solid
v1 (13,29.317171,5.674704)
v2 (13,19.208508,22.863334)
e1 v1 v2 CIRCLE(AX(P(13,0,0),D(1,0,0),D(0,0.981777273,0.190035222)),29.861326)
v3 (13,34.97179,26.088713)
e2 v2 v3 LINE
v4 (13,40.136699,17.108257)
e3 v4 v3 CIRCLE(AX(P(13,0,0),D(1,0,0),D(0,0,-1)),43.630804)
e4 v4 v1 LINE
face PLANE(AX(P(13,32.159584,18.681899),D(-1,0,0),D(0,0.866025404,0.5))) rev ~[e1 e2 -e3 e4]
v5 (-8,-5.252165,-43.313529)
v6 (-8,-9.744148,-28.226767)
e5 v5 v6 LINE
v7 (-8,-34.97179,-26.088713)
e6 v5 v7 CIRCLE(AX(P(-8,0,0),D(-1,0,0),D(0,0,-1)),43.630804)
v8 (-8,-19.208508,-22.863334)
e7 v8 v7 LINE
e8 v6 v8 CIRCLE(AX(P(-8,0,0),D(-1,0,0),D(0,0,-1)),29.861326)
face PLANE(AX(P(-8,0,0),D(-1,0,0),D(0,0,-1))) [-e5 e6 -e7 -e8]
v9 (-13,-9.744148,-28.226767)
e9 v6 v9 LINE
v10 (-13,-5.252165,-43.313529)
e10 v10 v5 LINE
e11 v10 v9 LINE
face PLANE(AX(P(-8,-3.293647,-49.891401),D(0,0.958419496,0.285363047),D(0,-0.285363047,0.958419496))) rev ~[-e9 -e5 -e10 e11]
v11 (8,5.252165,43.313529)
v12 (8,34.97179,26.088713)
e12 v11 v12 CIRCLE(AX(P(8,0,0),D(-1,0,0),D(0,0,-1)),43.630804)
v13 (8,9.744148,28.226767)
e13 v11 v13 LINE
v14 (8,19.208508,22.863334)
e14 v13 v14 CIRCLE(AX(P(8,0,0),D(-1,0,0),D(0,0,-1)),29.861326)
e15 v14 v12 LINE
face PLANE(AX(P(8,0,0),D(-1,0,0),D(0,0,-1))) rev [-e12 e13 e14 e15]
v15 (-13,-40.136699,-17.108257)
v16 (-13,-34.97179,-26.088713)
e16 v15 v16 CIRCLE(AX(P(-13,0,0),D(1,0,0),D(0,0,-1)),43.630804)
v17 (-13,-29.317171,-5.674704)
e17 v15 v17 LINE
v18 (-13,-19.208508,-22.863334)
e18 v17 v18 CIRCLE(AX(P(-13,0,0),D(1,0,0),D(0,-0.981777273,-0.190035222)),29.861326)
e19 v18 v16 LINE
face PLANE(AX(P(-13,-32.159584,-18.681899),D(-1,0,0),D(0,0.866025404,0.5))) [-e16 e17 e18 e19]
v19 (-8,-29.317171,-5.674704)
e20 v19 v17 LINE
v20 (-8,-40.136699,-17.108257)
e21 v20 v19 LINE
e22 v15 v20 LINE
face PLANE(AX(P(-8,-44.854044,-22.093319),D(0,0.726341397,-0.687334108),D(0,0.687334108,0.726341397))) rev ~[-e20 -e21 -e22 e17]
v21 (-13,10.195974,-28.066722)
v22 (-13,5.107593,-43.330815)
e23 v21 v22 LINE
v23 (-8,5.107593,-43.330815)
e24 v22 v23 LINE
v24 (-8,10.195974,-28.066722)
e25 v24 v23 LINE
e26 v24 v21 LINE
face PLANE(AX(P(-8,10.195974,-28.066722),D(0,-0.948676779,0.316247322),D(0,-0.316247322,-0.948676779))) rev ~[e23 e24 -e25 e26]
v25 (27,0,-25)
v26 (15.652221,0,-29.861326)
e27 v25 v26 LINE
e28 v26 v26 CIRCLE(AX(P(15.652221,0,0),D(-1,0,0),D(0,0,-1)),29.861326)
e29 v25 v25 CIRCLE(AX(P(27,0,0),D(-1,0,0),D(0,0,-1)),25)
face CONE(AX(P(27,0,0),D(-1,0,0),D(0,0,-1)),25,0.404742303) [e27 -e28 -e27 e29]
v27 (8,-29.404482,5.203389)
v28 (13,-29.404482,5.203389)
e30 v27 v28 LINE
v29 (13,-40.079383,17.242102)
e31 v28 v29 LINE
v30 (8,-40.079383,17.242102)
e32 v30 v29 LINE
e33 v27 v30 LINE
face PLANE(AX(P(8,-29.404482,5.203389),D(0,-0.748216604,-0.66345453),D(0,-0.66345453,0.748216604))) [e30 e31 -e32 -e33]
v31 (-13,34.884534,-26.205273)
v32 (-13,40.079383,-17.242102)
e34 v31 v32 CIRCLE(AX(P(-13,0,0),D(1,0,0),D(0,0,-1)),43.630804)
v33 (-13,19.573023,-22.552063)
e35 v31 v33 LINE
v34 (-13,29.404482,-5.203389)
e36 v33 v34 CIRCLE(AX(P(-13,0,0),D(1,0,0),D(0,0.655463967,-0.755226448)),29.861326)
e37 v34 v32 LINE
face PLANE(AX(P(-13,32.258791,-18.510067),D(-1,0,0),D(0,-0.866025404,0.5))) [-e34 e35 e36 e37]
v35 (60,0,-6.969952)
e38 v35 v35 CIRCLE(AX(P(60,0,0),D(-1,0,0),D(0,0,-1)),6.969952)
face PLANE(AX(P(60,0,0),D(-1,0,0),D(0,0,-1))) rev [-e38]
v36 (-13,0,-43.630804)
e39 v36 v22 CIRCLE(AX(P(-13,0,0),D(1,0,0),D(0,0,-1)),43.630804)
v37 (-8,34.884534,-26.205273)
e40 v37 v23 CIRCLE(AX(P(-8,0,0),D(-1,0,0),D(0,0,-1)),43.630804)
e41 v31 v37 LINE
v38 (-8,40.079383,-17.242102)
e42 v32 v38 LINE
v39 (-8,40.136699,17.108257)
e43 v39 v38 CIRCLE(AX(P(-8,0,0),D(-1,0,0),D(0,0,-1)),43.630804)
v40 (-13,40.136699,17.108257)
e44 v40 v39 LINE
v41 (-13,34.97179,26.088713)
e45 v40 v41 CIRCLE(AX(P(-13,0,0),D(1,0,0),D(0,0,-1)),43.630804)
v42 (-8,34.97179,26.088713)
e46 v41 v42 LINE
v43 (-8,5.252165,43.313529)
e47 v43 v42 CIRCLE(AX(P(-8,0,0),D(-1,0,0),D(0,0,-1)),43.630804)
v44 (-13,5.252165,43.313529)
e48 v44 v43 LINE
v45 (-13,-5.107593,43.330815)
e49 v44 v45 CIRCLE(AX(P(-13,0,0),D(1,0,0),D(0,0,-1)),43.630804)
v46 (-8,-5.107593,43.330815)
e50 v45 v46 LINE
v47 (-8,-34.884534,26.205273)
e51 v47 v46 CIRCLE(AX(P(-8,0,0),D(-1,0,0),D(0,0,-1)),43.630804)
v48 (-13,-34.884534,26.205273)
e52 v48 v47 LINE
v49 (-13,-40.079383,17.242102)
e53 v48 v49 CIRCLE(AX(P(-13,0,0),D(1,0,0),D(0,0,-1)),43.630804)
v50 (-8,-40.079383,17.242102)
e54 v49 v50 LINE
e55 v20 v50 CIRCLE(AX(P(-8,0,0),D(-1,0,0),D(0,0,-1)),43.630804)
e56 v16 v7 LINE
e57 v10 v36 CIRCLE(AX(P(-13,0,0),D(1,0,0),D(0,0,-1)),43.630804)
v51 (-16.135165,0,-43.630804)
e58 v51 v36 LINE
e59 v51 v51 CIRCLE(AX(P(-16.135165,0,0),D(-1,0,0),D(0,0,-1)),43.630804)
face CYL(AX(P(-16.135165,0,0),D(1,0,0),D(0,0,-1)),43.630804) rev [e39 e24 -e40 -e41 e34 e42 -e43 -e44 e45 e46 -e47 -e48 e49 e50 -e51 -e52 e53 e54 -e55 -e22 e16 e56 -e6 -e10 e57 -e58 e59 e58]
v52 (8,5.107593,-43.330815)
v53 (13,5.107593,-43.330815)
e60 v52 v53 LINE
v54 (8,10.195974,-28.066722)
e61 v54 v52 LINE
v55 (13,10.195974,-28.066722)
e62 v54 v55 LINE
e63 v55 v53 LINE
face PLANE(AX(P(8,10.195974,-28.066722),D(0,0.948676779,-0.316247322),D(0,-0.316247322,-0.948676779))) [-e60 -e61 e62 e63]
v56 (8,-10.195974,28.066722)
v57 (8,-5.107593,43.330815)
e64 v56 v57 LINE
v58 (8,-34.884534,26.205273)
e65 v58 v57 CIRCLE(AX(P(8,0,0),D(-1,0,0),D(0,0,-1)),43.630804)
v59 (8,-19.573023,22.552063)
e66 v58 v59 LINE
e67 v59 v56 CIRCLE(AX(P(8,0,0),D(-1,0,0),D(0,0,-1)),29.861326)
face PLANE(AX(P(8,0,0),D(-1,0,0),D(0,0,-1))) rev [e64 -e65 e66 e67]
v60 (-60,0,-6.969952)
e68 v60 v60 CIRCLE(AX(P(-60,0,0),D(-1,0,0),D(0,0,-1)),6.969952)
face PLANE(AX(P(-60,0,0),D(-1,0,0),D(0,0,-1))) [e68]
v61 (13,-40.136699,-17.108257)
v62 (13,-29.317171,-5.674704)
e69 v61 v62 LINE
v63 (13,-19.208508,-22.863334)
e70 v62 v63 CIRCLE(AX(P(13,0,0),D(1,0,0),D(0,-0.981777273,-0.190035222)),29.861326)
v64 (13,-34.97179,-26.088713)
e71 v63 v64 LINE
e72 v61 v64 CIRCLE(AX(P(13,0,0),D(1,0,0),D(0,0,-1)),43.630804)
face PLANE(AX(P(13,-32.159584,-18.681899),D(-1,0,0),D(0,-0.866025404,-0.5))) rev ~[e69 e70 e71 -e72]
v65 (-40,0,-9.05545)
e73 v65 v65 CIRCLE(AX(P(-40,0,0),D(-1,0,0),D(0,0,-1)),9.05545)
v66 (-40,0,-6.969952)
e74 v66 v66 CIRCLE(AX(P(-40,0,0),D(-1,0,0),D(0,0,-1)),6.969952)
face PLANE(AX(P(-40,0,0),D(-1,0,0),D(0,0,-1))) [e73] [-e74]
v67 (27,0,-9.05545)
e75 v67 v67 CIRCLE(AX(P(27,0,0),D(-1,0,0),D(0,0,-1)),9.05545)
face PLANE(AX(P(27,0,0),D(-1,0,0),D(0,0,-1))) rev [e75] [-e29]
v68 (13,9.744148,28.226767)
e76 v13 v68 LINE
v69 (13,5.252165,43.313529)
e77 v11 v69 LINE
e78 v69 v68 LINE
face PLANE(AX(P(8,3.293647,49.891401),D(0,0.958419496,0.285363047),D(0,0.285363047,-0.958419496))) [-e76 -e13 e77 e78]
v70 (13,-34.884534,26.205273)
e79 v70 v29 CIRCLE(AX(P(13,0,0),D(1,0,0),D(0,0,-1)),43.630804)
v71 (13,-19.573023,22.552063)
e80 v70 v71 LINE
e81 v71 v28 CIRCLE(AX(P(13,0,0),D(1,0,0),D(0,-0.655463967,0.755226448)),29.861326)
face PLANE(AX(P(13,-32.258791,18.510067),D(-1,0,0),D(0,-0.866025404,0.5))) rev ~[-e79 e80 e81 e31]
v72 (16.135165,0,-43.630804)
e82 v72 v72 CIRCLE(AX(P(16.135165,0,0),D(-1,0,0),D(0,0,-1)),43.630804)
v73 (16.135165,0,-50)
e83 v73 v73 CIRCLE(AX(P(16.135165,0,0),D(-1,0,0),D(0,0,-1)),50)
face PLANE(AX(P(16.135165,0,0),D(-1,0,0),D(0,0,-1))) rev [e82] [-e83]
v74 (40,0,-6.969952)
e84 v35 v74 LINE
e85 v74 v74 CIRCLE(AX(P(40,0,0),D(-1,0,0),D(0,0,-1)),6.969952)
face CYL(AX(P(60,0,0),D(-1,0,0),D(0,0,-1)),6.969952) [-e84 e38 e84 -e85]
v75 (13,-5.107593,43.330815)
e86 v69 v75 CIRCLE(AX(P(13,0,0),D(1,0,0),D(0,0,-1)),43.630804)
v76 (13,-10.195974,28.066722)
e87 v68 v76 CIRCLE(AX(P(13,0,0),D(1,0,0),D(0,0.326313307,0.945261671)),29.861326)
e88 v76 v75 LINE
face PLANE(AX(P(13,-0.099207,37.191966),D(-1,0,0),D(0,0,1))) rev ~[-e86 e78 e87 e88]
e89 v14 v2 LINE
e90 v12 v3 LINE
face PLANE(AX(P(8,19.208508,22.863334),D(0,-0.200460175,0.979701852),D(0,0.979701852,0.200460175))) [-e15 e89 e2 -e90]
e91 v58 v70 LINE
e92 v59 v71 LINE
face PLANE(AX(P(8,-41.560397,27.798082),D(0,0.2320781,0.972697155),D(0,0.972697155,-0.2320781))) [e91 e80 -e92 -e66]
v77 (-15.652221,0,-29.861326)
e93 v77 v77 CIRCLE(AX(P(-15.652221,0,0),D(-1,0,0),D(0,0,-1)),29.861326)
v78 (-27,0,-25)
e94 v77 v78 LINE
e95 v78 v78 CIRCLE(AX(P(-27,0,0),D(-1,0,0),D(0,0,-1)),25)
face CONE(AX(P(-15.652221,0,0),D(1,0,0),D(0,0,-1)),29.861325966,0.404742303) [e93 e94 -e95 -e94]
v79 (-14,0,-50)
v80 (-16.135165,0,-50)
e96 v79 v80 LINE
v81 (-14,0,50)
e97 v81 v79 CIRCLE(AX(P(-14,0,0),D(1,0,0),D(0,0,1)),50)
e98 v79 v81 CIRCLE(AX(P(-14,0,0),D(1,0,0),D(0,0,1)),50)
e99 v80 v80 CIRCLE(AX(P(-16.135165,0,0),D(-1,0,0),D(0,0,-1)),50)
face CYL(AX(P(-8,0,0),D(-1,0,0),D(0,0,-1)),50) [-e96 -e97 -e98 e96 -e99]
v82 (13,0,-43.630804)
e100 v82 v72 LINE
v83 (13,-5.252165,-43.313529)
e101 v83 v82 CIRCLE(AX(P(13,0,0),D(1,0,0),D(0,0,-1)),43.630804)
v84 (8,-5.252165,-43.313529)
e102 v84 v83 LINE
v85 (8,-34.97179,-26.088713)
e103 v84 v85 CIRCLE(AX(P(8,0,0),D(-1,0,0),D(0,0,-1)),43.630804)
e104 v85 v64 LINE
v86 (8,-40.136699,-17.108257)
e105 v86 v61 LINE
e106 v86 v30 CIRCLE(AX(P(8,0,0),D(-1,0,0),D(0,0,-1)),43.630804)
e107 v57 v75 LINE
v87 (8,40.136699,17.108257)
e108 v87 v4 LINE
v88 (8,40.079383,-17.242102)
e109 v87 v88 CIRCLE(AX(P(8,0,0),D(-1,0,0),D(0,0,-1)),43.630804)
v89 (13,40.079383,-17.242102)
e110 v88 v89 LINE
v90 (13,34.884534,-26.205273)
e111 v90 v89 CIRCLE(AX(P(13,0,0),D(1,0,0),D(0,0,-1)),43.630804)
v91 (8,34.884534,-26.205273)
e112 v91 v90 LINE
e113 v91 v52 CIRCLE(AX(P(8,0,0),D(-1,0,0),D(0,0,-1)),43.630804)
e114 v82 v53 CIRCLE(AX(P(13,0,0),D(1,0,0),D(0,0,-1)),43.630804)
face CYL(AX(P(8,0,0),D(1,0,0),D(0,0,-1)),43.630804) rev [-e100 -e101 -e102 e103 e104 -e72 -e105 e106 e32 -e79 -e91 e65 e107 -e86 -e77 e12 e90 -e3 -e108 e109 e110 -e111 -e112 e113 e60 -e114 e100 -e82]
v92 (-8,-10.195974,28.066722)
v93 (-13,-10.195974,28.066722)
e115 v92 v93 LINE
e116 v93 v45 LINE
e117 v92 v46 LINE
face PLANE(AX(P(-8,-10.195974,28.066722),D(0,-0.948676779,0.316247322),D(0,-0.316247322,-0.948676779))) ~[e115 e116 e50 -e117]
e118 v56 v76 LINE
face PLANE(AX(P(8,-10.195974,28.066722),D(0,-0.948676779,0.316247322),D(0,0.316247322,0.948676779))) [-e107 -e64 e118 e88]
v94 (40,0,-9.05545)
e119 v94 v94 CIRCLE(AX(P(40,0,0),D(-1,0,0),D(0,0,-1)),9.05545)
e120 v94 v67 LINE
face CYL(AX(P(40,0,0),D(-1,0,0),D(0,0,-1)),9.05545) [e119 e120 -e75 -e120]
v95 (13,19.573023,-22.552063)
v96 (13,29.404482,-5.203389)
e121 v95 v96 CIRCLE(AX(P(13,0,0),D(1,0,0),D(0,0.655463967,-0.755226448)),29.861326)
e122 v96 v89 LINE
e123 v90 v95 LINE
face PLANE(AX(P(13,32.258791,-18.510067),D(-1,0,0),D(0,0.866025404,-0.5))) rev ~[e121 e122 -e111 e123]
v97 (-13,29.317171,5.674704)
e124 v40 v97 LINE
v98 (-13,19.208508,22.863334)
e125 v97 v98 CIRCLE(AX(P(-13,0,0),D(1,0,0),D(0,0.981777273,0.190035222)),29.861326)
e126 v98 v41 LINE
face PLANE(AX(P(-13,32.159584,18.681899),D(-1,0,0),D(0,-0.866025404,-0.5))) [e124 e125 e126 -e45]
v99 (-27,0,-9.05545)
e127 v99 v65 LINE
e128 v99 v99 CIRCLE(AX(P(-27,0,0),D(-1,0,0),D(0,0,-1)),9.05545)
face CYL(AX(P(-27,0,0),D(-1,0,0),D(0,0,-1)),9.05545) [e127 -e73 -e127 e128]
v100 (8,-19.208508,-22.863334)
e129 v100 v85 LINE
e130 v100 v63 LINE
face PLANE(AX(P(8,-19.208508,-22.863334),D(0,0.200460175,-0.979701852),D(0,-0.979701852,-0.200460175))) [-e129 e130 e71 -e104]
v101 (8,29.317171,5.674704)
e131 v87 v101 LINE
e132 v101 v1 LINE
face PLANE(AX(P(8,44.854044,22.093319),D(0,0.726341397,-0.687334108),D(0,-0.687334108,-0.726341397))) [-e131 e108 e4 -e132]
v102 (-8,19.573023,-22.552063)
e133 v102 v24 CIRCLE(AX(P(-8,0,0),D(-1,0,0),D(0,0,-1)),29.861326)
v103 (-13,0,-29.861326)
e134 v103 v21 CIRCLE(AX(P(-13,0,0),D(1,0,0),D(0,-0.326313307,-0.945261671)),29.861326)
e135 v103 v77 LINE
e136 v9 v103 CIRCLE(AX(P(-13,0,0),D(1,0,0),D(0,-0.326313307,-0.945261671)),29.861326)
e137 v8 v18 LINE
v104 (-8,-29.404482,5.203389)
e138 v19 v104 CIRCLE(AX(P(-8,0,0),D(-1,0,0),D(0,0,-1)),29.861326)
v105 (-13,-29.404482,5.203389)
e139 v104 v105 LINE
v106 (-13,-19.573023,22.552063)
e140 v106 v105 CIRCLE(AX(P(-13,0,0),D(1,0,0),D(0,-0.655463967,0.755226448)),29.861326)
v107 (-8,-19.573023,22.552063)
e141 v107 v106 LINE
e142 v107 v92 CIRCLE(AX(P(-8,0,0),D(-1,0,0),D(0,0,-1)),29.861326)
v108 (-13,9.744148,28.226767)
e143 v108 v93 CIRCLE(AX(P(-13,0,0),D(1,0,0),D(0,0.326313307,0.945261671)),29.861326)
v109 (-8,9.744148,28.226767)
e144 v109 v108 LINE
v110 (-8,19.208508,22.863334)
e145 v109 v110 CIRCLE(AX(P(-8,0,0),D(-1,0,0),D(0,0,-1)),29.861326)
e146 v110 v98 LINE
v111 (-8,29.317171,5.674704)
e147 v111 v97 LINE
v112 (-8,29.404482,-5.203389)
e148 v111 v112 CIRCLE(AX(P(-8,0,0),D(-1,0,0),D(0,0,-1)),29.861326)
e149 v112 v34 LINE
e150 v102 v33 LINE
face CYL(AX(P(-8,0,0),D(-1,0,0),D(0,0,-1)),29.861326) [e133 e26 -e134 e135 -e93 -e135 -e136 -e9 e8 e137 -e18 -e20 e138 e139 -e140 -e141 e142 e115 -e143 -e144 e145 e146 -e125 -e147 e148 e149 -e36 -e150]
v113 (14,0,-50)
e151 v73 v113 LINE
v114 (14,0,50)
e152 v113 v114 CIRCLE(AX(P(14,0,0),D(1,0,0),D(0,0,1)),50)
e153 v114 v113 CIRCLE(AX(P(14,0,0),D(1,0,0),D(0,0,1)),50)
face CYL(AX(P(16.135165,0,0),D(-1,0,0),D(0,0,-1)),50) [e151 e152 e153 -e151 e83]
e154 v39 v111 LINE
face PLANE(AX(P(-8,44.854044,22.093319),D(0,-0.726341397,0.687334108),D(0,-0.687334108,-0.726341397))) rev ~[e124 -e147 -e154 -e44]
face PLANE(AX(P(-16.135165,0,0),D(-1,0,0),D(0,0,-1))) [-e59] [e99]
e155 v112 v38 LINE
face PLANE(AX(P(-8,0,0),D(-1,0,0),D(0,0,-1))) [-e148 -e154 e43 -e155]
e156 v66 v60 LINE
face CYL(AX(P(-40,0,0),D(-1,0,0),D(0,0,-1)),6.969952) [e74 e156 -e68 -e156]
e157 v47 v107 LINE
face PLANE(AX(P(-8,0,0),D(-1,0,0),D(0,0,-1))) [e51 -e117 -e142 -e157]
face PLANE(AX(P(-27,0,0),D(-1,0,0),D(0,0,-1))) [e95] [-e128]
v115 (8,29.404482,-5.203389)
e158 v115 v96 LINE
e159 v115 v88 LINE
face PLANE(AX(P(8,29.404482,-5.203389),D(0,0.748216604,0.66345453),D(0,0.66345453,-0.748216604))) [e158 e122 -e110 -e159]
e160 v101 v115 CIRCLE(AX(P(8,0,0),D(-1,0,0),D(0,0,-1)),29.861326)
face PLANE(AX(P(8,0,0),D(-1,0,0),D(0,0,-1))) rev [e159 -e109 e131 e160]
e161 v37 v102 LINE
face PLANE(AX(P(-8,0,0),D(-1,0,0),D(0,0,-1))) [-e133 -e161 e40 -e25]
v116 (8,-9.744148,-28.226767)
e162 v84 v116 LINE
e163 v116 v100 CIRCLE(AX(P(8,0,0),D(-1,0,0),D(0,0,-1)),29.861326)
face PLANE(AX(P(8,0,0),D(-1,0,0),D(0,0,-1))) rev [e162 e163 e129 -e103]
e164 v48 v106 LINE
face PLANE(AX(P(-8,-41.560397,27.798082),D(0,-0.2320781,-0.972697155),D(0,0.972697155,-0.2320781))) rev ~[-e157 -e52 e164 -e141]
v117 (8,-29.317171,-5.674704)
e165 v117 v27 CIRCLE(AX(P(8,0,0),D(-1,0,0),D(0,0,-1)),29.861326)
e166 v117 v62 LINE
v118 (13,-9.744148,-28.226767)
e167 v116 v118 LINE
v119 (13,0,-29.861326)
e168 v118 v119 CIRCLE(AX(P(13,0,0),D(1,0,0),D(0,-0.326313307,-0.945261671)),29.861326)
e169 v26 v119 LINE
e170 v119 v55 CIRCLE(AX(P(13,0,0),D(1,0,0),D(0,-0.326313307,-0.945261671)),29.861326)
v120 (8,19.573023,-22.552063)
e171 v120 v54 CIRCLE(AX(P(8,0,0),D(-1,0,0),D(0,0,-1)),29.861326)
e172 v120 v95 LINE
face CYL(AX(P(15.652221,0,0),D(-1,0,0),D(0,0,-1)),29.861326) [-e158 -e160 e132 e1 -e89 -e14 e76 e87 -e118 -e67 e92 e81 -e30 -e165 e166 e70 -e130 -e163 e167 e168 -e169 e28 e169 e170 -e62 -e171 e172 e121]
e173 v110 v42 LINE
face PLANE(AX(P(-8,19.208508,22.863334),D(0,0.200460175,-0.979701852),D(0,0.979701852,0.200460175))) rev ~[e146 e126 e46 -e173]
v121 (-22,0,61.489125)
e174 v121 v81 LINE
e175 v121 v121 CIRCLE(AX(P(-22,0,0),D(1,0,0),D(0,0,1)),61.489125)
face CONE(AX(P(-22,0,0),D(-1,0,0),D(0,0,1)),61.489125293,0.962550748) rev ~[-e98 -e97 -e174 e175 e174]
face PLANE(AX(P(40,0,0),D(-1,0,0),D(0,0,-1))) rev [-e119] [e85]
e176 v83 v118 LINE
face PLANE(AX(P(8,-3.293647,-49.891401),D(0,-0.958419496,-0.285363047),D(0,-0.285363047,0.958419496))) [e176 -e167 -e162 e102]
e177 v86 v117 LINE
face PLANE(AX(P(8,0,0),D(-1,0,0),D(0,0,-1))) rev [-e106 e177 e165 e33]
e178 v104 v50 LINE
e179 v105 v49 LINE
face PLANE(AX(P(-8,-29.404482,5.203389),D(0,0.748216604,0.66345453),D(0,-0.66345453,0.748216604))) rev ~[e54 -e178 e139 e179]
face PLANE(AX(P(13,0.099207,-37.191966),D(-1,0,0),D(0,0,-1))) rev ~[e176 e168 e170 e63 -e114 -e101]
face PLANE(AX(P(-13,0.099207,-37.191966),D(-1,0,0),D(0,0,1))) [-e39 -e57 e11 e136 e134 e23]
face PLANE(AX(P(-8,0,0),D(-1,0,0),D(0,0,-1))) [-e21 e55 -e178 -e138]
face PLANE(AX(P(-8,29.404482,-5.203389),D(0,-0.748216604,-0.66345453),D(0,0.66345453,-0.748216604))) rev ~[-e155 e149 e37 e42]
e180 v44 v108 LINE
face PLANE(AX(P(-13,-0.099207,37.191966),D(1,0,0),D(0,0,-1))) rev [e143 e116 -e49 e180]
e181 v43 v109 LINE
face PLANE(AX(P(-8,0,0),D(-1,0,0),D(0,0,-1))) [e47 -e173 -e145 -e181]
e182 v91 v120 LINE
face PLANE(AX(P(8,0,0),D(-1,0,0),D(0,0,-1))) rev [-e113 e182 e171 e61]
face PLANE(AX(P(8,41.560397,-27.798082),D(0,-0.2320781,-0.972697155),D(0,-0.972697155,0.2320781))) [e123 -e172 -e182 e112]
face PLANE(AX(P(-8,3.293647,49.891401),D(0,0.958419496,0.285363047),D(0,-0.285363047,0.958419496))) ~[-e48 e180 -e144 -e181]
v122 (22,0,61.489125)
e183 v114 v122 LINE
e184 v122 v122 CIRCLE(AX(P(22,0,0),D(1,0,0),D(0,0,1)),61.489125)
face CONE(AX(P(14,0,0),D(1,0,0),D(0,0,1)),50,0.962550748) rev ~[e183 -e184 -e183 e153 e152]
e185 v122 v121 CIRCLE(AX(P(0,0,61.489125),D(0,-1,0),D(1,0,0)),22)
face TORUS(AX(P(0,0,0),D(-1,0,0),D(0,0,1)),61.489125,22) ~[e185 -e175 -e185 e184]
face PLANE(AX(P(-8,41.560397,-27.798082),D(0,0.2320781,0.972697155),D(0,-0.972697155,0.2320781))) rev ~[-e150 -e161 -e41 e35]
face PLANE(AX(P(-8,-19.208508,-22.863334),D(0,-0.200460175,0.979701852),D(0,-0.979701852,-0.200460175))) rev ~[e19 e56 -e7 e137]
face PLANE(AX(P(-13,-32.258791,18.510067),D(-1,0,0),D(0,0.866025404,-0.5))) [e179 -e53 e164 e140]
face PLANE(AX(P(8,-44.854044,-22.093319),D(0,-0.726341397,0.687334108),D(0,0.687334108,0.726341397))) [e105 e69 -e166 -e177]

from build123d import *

# Parameters (mm, degrees)
BOSS_EXTRUDE2_DEPTH  = 5
CIRPATTERN1_COUNT    = 6
MIRROR1_COPY_1_DEPTH = 5
MIRROR1_COPY_2_DEPTH = 5
MIRROR1_COPY_3_DEPTH = 5
MIRROR1_COPY_4_DEPTH = 5
MIRROR1_COPY_5_DEPTH = 5


with BuildPart() as part:
    # Sketch2 → Revolve1 (revolve)
    with BuildSketch(Plane.XY, mode=Mode.PRIVATE) as revolve1_sk:
        with BuildLine():
            Line((-22, 61.489125293), (-14, 50))
            Line((-14, 50), (-8, 50))
            ThreePointArc((-8, 50), (-5.656854249, 44.343145751), (0, 42))
            ThreePointArc((0, 42), (5.656854249, 44.343145751), (8, 50))
            Line((8, 50), (14, 50))
            Line((14, 50), (22, 61.489125293))
            ThreePointArc((22, 61.489125293), (0, 83.489125293), (-22, 61.489125293))
        make_face()
    revolve(revolve1_sk.sketch.rotate(Axis((0, 0, 0), (1, 0, 0)), 90), axis=Axis((0, 0, 0), (1, 0, 0)))

    # Sketch3 → Revolve2 (revolve)
    with BuildSketch(Plane.XY, mode=Mode.PRIVATE) as revolve2_sk:
        with BuildLine():
            Line((-27, 9.055449855), (-40, 9.055449855))
            Line((-40, 9.055449855), (-40, 6.969952313))
            Line((-40, 6.969952313), (-60, 6.969952313))
            Line((-60, 6.969952313), (-60, 0))
            Line((-60, 0), (60, 0))
            Line((60, 0), (60, 6.969952313))
            Line((60, 6.969952313), (40, 6.969952313))
            Line((40, 6.969952313), (40, 9.055449855))
            Line((40, 9.055449855), (27, 9.055449855))
            Line((27, 9.055449855), (27, 25))
            Line((27, 25), (15.652221366, 29.861325966))
            Line((15.652221366, 29.861325966), (8, 29.861325966))
            Line((8, 29.861325966), (8, 43.630803847))
            Line((8, 43.630803847), (16.135165196, 43.630803847))
            Line((16.135165196, 43.630803847), (16.135165196, 50))
            Line((16.135165196, 50), (8, 50))
            ThreePointArc((8, 50), (0, 42), (-8, 50))
            Line((-8, 50), (-16.135165196, 50))
            Line((-16.135165196, 50), (-16.135165196, 43.630803847))
            Line((-16.135165196, 43.630803847), (-8, 43.630803847))
            Line((-8, 43.630803847), (-8, 29.861325966))
            Line((-8, 29.861325966), (-15.652221366, 29.861325966))
            Line((-15.652221366, 29.861325966), (-27, 25))
            Line((-27, 25), (-27, 9.055449855))
        make_face()
    revolve(revolve2_sk.sketch.rotate(Axis((-27, 0, 0), (-1, 0, 0)), 90), axis=Axis((-27, 0, 0), (-1, 0, 0)))

    # Sketch4 → Boss-Extrude2 (add)
    with BuildSketch(Plane(origin=(8, 0, 0), x_dir=(0, 0, -1), z_dir=(1, 0, 0))):
        with BuildLine():
            Line((-49.891400962, 3.293646928), (-28.226766869, 9.744148017))
            ThreePointArc((-28.226766869, 9.744148017), (-29.860364168, -0.239666883), (-28.066722375, -10.19597389))
            Line((-28.066722375, -10.19597389), (-49.91509062, -2.912684053))
            ThreePointArc((-49.91509062, -2.912684053), (-49.999635764, 0.190849359), (-49.891400962, 3.293646928))
        make_face()
    boss_extrude2 = extrude(amount=BOSS_EXTRUDE2_DEPTH)

    # CirPattern1: Boss-Extrude2 ×6 about axis
    cirpattern1_axis = Axis((0, 0, 0), (1, 0, 0))
    for i in range(1, CIRPATTERN1_COUNT):
        add(boss_extrude2.rotate(cirpattern1_axis, i * 360 / CIRPATTERN1_COUNT))

    # Mirror1: Boss-Extrude2 across plane
    add(boss_extrude2.mirror(Plane(origin=(0, 0, 0), x_dir=(0, 0, 1), z_dir=(1, 0, 0))))

    # Mirror1 copy 1 sketch → Mirror1 copy 1 (add)
    with BuildSketch(Plane(origin=(-8, 0, 0), x_dir=(0, 0.8660254037844386, -0.5000000000000001), z_dir=(-1, 0, 0))):
        with BuildLine():
            Line((-49.891400962, -3.293646928), (-28.226766869, -9.744148017))
            ThreePointArc((-28.226766869, -9.744148017), (-29.860364168, 0.239666883), (-28.066722375, 10.19597389))
            Line((-28.066722375, 10.19597389), (-49.91509062, 2.912684053))
            ThreePointArc((-49.91509062, 2.912684053), (-49.999635764, -0.190849359), (-49.891400962, -3.293646928))
        make_face()
    extrude(amount=MIRROR1_COPY_1_DEPTH)

    # Mirror1 copy 2 sketch → Mirror1 copy 2 (add)
    with BuildSketch(Plane(origin=(-8, 0, 0), x_dir=(0, 0.8660254037844387, 0.4999999999999998), z_dir=(-1, 0, 0))):
        with BuildLine():
            Line((-49.891400962, -3.293646928), (-28.226766869, -9.744148017))
            ThreePointArc((-28.226766869, -9.744148017), (-29.860364168, 0.239666883), (-28.066722375, 10.19597389))
            Line((-28.066722375, 10.19597389), (-49.91509062, 2.912684053))
            ThreePointArc((-49.91509062, 2.912684053), (-49.999635764, -0.190849359), (-49.891400962, -3.293646928))
        make_face()
    extrude(amount=MIRROR1_COPY_2_DEPTH)

    # Mirror1 copy 3 sketch → Mirror1 copy 3 (add)
    with BuildSketch(Plane.ZY.offset(8)):
        with BuildLine():
            Line((-49.891400962, -3.293646928), (-28.226766869, -9.744148017))
            ThreePointArc((-28.226766869, -9.744148017), (-29.860364168, 0.239666883), (-28.066722375, 10.19597389))
            Line((-28.066722375, 10.19597389), (-49.91509062, 2.912684053))
            ThreePointArc((-49.91509062, 2.912684053), (-49.999635764, -0.190849359), (-49.891400962, -3.293646928))
        make_face()
    extrude(amount=MIRROR1_COPY_3_DEPTH)

    # Mirror1 copy 4 sketch → Mirror1 copy 4 (add)
    with BuildSketch(Plane(origin=(-8, 0, 0), x_dir=(0, -0.8660254037844384, 0.5000000000000004), z_dir=(-1, 0, 0))):
        with BuildLine():
            Line((-49.891400962, -3.293646928), (-28.226766869, -9.744148017))
            ThreePointArc((-28.226766869, -9.744148017), (-29.860364168, 0.239666883), (-28.066722375, 10.19597389))
            Line((-28.066722375, 10.19597389), (-49.91509062, 2.912684053))
            ThreePointArc((-49.91509062, 2.912684053), (-49.999635764, -0.190849359), (-49.891400962, -3.293646928))
        make_face()
    extrude(amount=MIRROR1_COPY_4_DEPTH)

    # Mirror1 copy 5 sketch → Mirror1 copy 5 (add)
    with BuildSketch(Plane(origin=(-8, 0, 0), x_dir=(0, -0.8660254037844386, -0.5000000000000001), z_dir=(-1, 0, 0))):
        with BuildLine():
            Line((-49.891400962, -3.293646928), (-28.226766869, -9.744148017))
            ThreePointArc((-28.226766869, -9.744148017), (-29.860364168, 0.239666883), (-28.066722375, 10.19597389))
            Line((-28.066722375, 10.19597389), (-49.91509062, 2.912684053))
            ThreePointArc((-49.91509062, 2.912684053), (-49.999635764, -0.190849359), (-49.891400962, -3.293646928))
        make_face()
    extrude(amount=MIRROR1_COPY_5_DEPTH)


solid = part.part
